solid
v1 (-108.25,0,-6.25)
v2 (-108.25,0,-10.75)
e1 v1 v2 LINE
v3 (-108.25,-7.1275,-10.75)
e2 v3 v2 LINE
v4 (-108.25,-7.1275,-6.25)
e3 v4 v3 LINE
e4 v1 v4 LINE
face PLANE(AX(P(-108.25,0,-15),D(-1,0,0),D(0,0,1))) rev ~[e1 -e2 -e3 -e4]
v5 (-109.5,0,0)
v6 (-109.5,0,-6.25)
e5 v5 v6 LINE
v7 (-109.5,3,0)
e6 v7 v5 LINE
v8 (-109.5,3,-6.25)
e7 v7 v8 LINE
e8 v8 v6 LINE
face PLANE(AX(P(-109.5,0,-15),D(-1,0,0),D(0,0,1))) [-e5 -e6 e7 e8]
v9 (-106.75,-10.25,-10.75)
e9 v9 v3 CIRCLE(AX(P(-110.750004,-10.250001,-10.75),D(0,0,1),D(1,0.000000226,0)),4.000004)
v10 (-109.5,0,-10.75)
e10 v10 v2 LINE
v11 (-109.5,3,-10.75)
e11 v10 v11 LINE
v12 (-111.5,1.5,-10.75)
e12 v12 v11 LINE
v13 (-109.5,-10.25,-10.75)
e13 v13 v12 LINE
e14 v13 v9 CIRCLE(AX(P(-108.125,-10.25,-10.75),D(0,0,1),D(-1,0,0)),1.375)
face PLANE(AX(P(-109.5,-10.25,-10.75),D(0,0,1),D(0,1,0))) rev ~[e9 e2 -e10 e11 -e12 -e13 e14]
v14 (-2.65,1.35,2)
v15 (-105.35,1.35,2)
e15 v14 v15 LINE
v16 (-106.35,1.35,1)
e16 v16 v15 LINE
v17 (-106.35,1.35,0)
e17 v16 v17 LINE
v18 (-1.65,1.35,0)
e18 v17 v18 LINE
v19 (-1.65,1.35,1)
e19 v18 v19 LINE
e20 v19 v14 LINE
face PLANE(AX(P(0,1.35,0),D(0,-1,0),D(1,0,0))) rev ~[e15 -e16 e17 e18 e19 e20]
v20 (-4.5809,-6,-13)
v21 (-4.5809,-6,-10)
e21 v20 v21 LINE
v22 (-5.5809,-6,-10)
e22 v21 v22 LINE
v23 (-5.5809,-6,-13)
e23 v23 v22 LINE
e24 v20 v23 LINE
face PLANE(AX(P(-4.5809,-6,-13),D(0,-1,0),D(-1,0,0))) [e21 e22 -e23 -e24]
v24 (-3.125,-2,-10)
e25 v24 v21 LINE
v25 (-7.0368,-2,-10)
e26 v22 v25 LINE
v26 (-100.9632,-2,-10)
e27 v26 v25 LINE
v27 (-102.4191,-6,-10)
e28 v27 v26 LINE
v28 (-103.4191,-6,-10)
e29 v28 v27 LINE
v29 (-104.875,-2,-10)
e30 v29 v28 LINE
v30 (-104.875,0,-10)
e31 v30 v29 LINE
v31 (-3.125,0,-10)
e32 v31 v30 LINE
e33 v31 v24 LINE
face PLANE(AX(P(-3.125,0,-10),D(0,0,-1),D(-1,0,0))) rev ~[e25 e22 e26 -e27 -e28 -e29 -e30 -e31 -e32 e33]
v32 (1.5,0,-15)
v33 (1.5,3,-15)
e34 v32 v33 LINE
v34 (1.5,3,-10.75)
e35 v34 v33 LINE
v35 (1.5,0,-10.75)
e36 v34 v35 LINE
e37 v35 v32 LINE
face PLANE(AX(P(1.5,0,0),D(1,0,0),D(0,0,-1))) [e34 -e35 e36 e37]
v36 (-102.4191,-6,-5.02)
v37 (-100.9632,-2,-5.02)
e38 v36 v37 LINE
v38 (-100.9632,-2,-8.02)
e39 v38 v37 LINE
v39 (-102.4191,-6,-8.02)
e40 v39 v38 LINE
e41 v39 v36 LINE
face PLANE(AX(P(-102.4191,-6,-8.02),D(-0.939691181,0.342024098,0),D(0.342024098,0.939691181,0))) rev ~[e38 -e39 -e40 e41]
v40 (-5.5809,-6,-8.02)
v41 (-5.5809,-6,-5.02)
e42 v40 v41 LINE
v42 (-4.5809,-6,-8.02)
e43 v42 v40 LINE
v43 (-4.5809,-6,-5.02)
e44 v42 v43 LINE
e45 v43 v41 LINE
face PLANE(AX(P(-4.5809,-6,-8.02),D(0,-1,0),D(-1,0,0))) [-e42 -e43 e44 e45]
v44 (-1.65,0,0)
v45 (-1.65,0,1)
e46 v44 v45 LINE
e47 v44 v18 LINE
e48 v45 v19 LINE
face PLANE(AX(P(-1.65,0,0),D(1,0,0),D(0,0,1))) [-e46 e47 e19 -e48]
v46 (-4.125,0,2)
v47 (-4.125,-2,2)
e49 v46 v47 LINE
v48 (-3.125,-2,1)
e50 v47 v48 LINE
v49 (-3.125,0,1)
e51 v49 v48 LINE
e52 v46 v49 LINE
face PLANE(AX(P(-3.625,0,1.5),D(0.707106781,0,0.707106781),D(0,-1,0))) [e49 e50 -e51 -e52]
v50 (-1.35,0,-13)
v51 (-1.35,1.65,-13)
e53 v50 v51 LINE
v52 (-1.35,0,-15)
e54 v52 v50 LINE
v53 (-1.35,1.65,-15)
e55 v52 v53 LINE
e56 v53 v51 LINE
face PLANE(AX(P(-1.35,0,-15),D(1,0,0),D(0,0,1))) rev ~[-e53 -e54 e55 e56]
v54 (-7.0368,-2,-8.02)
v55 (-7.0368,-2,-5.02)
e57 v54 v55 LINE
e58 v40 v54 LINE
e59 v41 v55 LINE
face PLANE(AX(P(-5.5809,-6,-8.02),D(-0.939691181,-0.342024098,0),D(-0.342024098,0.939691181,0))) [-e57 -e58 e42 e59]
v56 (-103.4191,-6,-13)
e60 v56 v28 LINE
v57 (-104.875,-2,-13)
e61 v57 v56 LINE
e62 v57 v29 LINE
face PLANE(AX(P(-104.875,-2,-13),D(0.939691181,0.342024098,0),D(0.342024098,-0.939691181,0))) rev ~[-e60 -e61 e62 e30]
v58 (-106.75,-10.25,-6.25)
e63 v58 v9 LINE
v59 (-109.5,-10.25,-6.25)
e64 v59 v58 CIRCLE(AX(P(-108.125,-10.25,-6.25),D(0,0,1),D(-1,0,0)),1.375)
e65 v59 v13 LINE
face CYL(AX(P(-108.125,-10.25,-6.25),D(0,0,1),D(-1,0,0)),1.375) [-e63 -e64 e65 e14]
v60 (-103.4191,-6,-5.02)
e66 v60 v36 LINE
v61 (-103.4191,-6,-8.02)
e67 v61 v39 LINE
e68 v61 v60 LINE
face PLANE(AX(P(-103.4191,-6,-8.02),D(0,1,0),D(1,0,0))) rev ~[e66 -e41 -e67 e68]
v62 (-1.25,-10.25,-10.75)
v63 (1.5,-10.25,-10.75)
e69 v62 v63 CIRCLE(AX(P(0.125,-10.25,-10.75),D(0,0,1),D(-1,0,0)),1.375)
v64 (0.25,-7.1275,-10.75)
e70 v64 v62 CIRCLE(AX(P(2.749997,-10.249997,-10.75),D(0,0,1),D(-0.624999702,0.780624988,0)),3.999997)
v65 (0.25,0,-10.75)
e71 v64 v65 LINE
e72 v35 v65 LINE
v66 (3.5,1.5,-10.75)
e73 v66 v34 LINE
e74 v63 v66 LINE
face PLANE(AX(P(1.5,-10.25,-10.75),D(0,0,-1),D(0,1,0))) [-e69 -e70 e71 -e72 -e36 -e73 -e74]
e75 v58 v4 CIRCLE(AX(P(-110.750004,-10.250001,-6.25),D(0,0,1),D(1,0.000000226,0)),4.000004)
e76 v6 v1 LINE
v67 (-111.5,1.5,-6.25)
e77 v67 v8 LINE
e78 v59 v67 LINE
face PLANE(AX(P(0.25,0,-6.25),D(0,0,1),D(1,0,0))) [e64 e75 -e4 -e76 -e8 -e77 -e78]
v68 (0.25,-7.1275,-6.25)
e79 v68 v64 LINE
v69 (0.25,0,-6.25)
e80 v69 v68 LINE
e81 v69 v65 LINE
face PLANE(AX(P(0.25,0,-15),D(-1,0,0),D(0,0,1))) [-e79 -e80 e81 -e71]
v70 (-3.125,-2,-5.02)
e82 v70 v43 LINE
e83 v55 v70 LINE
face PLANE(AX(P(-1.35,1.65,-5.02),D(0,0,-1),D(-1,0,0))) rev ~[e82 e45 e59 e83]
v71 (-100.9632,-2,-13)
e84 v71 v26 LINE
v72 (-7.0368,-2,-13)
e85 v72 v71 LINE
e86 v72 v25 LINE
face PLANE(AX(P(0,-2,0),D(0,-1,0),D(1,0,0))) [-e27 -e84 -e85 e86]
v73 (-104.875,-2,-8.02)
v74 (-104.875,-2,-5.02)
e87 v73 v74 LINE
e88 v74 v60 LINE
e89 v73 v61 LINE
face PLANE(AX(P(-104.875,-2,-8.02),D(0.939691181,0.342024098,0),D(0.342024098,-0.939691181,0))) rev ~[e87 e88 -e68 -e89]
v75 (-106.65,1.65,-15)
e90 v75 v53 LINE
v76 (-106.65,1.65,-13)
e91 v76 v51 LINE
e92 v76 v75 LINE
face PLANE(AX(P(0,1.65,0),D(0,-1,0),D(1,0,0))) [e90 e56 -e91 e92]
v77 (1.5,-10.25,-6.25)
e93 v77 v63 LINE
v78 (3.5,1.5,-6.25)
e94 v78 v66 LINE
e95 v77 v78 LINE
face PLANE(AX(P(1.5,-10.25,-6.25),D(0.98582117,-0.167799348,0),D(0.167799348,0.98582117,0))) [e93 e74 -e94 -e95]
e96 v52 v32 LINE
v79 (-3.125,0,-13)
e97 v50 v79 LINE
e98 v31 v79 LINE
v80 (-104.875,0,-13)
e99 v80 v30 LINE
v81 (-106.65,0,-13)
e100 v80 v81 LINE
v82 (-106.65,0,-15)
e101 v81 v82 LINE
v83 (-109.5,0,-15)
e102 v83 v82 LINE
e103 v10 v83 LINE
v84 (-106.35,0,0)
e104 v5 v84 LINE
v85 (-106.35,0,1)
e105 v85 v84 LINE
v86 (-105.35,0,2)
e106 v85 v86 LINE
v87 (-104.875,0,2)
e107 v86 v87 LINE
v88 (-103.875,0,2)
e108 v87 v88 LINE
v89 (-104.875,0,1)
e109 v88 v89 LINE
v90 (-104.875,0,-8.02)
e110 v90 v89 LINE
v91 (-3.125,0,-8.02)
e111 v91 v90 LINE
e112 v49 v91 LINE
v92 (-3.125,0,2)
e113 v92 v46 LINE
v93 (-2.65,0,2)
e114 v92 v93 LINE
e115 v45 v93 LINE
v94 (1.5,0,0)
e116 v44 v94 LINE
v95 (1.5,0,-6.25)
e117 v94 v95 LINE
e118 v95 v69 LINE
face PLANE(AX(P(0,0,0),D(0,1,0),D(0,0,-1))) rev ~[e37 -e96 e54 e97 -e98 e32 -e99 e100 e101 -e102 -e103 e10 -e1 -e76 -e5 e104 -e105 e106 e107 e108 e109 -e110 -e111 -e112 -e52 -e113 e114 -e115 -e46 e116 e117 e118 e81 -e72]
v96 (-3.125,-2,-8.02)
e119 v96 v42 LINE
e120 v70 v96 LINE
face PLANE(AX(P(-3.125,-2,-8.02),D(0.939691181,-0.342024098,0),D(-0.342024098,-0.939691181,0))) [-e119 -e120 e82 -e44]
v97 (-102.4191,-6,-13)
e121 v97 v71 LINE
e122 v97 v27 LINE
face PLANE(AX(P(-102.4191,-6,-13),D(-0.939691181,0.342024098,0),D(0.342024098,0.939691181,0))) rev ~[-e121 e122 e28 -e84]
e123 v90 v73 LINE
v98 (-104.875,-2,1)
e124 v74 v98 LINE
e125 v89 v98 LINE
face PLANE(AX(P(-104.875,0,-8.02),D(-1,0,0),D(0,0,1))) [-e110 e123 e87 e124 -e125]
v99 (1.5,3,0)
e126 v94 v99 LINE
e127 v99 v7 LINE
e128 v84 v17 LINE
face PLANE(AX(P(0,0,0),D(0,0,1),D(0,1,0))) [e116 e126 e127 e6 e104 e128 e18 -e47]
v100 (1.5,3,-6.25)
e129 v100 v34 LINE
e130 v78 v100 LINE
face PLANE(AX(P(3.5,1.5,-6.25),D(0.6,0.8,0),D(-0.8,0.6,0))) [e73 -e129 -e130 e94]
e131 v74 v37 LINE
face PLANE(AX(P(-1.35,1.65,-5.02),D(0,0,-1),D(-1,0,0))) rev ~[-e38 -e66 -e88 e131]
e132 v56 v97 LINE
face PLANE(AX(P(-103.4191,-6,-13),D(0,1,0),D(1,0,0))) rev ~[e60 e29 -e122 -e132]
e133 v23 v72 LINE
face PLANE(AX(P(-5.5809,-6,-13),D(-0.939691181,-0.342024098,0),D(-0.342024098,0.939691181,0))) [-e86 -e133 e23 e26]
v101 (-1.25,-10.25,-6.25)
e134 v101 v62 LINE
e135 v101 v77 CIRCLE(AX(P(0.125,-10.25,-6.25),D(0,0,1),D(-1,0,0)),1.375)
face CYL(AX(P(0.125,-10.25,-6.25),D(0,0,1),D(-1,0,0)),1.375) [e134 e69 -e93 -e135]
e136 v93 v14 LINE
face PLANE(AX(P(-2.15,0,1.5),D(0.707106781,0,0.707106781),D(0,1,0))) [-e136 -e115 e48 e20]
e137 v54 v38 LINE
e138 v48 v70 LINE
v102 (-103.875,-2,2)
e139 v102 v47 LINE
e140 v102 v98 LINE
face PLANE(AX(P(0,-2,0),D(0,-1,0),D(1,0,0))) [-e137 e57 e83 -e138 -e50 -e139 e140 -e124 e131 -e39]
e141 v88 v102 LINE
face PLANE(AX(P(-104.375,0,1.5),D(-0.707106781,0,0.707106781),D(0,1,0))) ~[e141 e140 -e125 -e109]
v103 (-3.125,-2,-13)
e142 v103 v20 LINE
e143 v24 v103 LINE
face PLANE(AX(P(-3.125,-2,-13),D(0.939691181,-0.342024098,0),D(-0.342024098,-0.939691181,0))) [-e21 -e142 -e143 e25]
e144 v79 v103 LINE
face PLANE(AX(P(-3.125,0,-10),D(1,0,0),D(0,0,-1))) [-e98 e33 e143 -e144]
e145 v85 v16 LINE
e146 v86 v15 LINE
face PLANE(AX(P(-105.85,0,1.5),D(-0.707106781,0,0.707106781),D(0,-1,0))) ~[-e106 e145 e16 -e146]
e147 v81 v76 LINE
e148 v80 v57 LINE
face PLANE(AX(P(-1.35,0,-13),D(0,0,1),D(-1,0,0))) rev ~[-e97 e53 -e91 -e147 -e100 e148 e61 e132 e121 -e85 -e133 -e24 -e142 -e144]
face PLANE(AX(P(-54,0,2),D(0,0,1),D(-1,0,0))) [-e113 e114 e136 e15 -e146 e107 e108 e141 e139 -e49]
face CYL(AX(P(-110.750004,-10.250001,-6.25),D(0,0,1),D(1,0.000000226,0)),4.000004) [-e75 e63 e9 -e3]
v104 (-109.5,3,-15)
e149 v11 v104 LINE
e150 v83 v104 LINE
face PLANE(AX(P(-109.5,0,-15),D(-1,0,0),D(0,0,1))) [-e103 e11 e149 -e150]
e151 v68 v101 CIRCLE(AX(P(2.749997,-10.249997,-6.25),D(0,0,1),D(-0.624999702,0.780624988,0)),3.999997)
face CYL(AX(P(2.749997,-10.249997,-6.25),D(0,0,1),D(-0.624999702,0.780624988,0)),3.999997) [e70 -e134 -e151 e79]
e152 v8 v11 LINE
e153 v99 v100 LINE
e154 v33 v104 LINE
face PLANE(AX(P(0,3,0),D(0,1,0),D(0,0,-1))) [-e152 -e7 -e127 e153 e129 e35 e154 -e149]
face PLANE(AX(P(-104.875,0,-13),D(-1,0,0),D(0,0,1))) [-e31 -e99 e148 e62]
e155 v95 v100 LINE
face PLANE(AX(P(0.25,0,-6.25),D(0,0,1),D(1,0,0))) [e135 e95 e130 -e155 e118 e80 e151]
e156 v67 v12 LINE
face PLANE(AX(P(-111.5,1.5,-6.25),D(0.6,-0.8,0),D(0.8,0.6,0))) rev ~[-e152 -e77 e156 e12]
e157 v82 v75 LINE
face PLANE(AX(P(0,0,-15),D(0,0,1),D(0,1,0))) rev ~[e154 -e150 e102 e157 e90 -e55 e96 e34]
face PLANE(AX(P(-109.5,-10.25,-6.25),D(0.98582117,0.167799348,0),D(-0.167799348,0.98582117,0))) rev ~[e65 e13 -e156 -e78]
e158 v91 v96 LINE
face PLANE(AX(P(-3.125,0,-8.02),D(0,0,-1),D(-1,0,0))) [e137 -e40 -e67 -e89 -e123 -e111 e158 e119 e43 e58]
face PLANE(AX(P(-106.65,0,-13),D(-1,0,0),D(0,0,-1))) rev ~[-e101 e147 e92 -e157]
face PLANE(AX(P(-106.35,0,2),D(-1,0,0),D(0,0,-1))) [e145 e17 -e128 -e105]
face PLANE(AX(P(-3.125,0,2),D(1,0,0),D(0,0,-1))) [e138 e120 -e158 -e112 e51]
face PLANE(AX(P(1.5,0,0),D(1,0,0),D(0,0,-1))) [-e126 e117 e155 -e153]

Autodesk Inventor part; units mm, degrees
ref_plane "YZ Plane" through (0, 0, 0) normal (1, 0, 0) x (0, 1, 0)
ref_plane "XZ Plane" through (0, 0, 0) normal (0, 1, 0) x (-1, 0, 0)
ref_plane "XY Plane" through (0, 0, 0) normal (0, 0, 1) x (1, 0, 0)
sketch "Skizze1" plane through (0, 0, 0) normal (0, 1, 0) x (-1, 0, 0)
  line L0 (0, 0) -> (108, 0)
  line L1 (108, 0) -> (108, -15)
  line L2 (108, -15) -> (0, -15)
  line L3 (0, -15) -> (0, 0)
  dimension "d0" = 108
  dimension "d1" = 15
extrude "Extrusion1" add sketch "Skizze1" along normal blind 3
sketch "Skizze2" plane through (0, 0, 0) normal (0, -1, 0) x (1, 0, 0)
  line L0 (-108, 0) -> (0, 0) projected
  line L1 (-106.35, 0) -> (-1.65, 0)
  line L2 (-1.65, 0) -> (-1.65, 2)
  line L3 (-1.65, 2) -> (-106.35, 2)
  line L4 (-106.35, 2) -> (-106.35, 0)
  line L5 (-108, -15) -> (-108, 0) projected
  line L6 (0, -15) -> (-108, -15) projected
  line L7 (-54, -15) -> (-54, 78)
  point P0 (-54, 0)
  point P1 (-54, 2)
  dimension "d4" = 1.65
  dimension "d5" = 2
extrude "Extrusion2" add sketch "Skizze2" against normal blind 1.35 contours L4 L3 L7 L0 | L7 L3 L2 L0
sketch "Skizze3" plane through (0, 0, 0) normal (0, -1, 0) x (1, 0, 0)
  line L0 (0, -15) -> (-108, -15) projected
  line L1 (-106.65, -15) -> (-1.35, -15)
  line L2 (-1.35, -15) -> (-1.35, -13)
  line L3 (-1.35, -13) -> (-106.65, -13)
  line L4 (-106.65, -13) -> (-106.65, -15)
  line L5 (-54, -15) -> (-54, 54)
  line L6 (-108, -15) -> (-108, 0) projected
  point P0 (0, 0)
  dimension "d8" = 1.35
  dimension "d9" = 2
extrude "Extrusion3" cut sketch "Skizze3" against normal blind 1.65
ref_plane "Arbeitsebene1" through (0, 3, -10) normal (0, 0, -1) x (-1, 0, 0)
sketch "Skizze4" plane through (0, 0, 0) normal (0, -1, 0) x (1, 0, 0)
  line L0 (21.6, -10) -> (-129.6, -10) projected
  line L1 (-104.875, -10) -> (-3.125, -10)
  line L2 (-3.125, -10) -> (-3.125, -13)
  line L3 (-3.125, -13) -> (-104.875, -13)
  line L4 (-104.875, -13) -> (-104.875, -10)
  line L5 (-106.65, -13) -> (-1.35, -13) projected
  line L6 (-1.35, -13) -> (-1.35, -15) projected
  line L7 (0, -15) -> (-108, -15) projected
  line L8 (-54, -15) -> (-54, 34)
  point P0 (0, 0)
  point P1 (-3.125, -10)
  dimension "d36" = 101.75
extrude "Extrusion4" add sketch "Skizze4" along normal blind 2 contours L2 L3 L8 L0 | L8 L3 L4 L0
sketch "Skizze5" plane through (0, 0, 0) normal (0, -1, 0) x (1, 0, 0)
  line L0 (-3.125, -8.02) -> (-104.875, -8.02)
  line L1 (-104.875, -8.02) -> (-104.875, 2)
  line L2 (-104.875, 2) -> (-3.125, 2)
  line L3 (-3.125, 2) -> (-3.125, -8.02)
  line L4 (-3.125, -10) -> (-104.875, -10) projected
  line L5 (-104.875, -10) -> (-104.875, -13) projected
  line L6 (-3.125, -13) -> (-3.125, -10) projected
  line L7 (-1.65, 2) -> (-106.35, 2) projected
  point P0 (0, 0)
  dimension "d16" = 1.98
extrude "Extrusion5" add sketch "Skizze5" along normal up to surface (2 mm away)
sketch "Skizze6" plane through (-108, 0, -15) normal (-1, 0, 0) x (0, 0, 1)
  line L0 (15, 3) -> (0, 3) projected
  line L1 (0, 3) -> (15, 3)
  line L2 (15, 3) -> (15, 0)
  line L3 (15, 0) -> (0, 0)
  line L4 (0, 0) -> (0, 3)
extrude "Extrusion6" add sketch "Skizze6" along normal blind 1.5
sketch "Skizze9" plane through (0, 0, 0) normal (1, 0, 0) x (0, 0, -1)
  line L0 (0, 0) -> (15, 0) projected
  line L1 (15, 0) -> (15, 3) projected
  line L2 (0, 3) -> (15, 3) projected
  line L3 (0, 0) -> (0, 3) projected
extrude "Extrusion9" add sketch "Skizze9" along normal blind 1.5
sketch "Skizze7" plane through (-109.5, 0, -15) normal (-1, 0, 0) x (0, 0, 1)
  line L0 (15, 0) -> (0, 0) projected
  line L1 (4, 0) -> (9, 0) construction
  line L2 (9, 0) -> (9, -10) construction
  line L3 (9, -10) -> (4, -10) construction
  line L4 (4, -10) -> (4, 0) construction
  line L5 (0, 3) -> (0, 0) projected
  line L6 (4.25, 0) -> (8.75, 0)
  line L7 (8.75, 0) -> (8.75, -10.25)
  line L8 (8.75, -10.25) -> (4.25, -10.25)
  line L9 (4.25, -10.25) -> (4.25, 0)
  point P0 (9, 0)
  point P1 (8.75, 0)
  point P2 (4.25, 0)
  dimension "d22" = 4
  dimension "d23" = 5
  dimension "d24" = 10
  dimension "d37" = 0.25
  dimension "d38" = 0.25
  dimension "d39" = 0.25
extrude "Extrusion7" add sketch "Skizze7" against normal blind 1.25
extrude "Extrusion11" add sketch "Skizze7" along normal blind 1.25 from surface at -111
sketch "Skizze8" plane through (-109.5, -10, -6.25) normal (0, 0, 1) x (1, 0, 0)
  line L0 (0, 13) -> (111, 13) projected
  line L1 (55.5, 13) -> (55.5, -32)
  line L2 (0, -0.25) -> (0, 10) projected
  line L3 (0, -0.25) -> (1.25, -0.25) projected
  line L4 (1.25, 10) -> (1.25, -0.25) projected
  line L5 (0, 10) -> (1.25, 10) projected
  line L6 (0, -0.25) -> (0, 10) projected
  line L7 (1.25, 10) -> (1.25, -0.25) projected
  line L8 (111, -0.25) -> (111, 10) projected
  arc A0 (2.75, -0.25) -> (1.25, 2.8725) centre (-1.25, -0.25) ccw
  arc A1 (0, -0.25) -> (2.75, -0.25) centre (1.375, -0.25) ccw
  line L9 (0, -0.25) -> (1.25, -0.25)
  line L10 (1.25, 2.8725) -> (0, 2.8725)
  line L11 (0, -0.25) -> (0, 2.8725)
  line L12 (111, -0.25) -> (109.75, -0.25)
  arc A2 (109.75, 2.8725) -> (108.25, -0.25) centre (112.25, -0.25) ccw
  arc A3 (108.25, -0.25) -> (111, -0.25) centre (109.625, -0.25) ccw
  line L13 (111, -0.25) -> (109.75, -0.25)
  line L14 (109.75, 2.8725) -> (111, 2.8725)
  line L15 (111, -0.25) -> (111, 2.8725)
  point P0 (1.25, -4.25)
  point P1 (0, 2.8725)
  dimension "d76" = 4
  dimension "d77" = 1.5
extrude "Extrusion8" add sketch "Skizze8" against normal up to surface (4.5 mm away) contours L2 L10 L4 L3 | L3 L4 A0 A1 | A3 A2 L14 L8
sketch "Skizze11" plane through (0.25, 0, -6.25) normal (0, 0, 1) x (1, 0, 0)
  line L0 (1.25, 3) -> (-109.75, 3) projected
  line L1 (-54.25, 3) -> (-54.25, -19)
  line L2 (-109.75, 3) -> (1.25, 3)
  arc A0 (-1.5, -10.25) -> (1.25, -10.25) centre (-0.125, -10.25) ccw projected
  line L3 (1.25, -10.25) -> (3.25, 1.5)
  line L4 (3.25, 1.5) -> (1.25, 3)
  line L5 (1.25, 3) -> (1.25, 0) projected
  line L6 (1.25, 1.5) -> (5.25, 1.5) construction
  line L7 (1.25, -10.25) -> (1.25, 3) construction
  line L8 (1.25, -10.25) -> (1.25, 0) construction
  line L9 (-109.75, -10.25) -> (-111.75, 1.5)
  line L10 (-111.75, 1.5) -> (-109.75, 3)
  line L11 (-109.75, 3) -> (-109.75, 0)
  line L12 (-109.75, -10.25) -> (-109.75, 3) construction
  line L13 (-109.75, -10.25) -> (-109.75, 0) construction
  line L14 (1.25, -10.25) -> (1.25, 3)
  line L15 (-109.75, 0) -> (-109.75, 3) projected
  line L16 (-109.75, -10.25) -> (-109.75, 3)
  point P0 (-109.75, 1.5)
  point P1 (-109.75, 0)
  point P2 (1.25, 0)
  dimension "d78" = 2
extrude "Extrusion12" add sketch "Skizze11" against normal up to surface (4.5 mm away)
sketch "Skizze12" plane through (-1.35, 1.65, -13) normal (0, 0, -1) x (-1, 0, 0)
  line L0 (1.775, -1.65) -> (1.775, -3.65) projected
  line L1 (1.775, -3.65) -> (3.2309, -7.65)
  line L2 (3.2309, -7.65) -> (4.2309, -7.65)
  line L3 (4.2309, -7.65) -> (5.6868, -3.65)
  line L4 (103.525, -3.65) -> (1.775, -3.65) projected
  line L5 (-1.6, -15.9) -> (-3.35, -15.9) projected
  line L6 (-2.85, 1.35) -> (108.15, 1.35) projected
  line L7 (52.65, 1.35) -> (52.65, -27)
  line L8 (1.775, -3.65) -> (5.6868, -3.65)
  line L9 (103.525, -3.65) -> (102.0691, -7.65)
  line L10 (102.0691, -7.65) -> (101.0691, -7.65)
  line L11 (101.0691, -7.65) -> (99.6132, -3.65)
  line L12 (103.525, -3.65) -> (99.6132, -3.65)
  point P0 (-1.35, -1.65)
  dimension "d52" = 70
  dimension "d53" = 1
  dimension "d55" = 4
extrude "Extrusion13" add sketch "Skizze12" against normal up to surface (3 mm away)
extrude "Extrusion14" add sketch "Skizze12" against normal blind 3 from surface at -4.98
chamfer "Fasen2" distance 1 angle 45 4 edges at (-106.35, 0.675, 2) (-104.875, -1, 2) (-1.65, 0.675, 2) (-3.125, -1, 2)
ref_plane "Arbeitsebene2" through (1.5, 0, 0) normal (1, 0, 0) x (0, 0, -1)
sketch "Skizze13" plane through (1.5, 0, 0) normal (1, 0, 0) x (0, 0, -1)
  point P0 (0, 0)
sketch "Skizze14" plane through (1.5, 0, 0) normal (1, 0, 0) x (0, 0, -1)
  line L0 (-2, -2) -> (-1, -2) projected
  line L1 (-1, -2) -> (-2, -2) projected
  line L2 (5.02, -2) -> (-1, -2) projected
  line L3 (5.02, -2) -> (8.02, -2) projected
  line L4 (8.02, -2) -> (5.02, -2) projected
  line L5 (-1, -2) -> (5.02, -2) projected
  line L6 (10, -6) -> (10, -2) projected
  line L7 (10, -2) -> (10, -6) projected
  line L8 (10, 0) -> (10, -2) projected
  line L9 (10, 0) -> (10, -2) projected
  line L10 (10, -6) -> (10, -2) projected
  line L11 (10, -2) -> (10, -6) projected
  line L12 (0, 3) -> (6.25, 3) projected
  line L13 (6.25, 3) -> (0, 3) projected
  line L14 (10.75, 3) -> (6.25, 3) projected
  line L15 (15, 3) -> (10.75, 3) projected
  line L16 (10.75, 3) -> (15, 3) projected
  line L17 (6.25, 3) -> (10.75, 3) projected
  line L18 (10, -14.25) -> (1, -14.25)
  line L19 (1, -14.25) -> (1, 3)
  line L20 (1, 3) -> (10, 3)
  line L21 (10, 3) -> (10, -14.25)
  line L22 (10, 3) -> (12, 3)
  line L23 (12, 3) -> (12, -1)
  line L24 (12, -1) -> (10, -1)
  line L25 (10, -1) -> (10, 3)
  line L26 (1, 0.35) -> (-1.65, 3)
  line L27 (-1.65, 3) -> (1, 3)
  line L28 (-1, 1.35) -> (-2, 1.35) projected
  line L29 (-1, 1.35) -> (0, 1.35) projected
  line L30 (0, 1.35) -> (-1, 1.35) projected
  line L31 (-2, 1.35) -> (-1, 1.35) projected
  line L32 (0, 1.35) -> (1, 1.35) construction
  line L33 (6.25, -14.25) -> (10.75, -14.25) projected
  line L34 (6.25, -14.25) -> (10.75, -14.25) projected
  line L35 (6.25, -14.25) -> (10.75, -14.25) projected
  point P0 (0, 0)
  dimension "d64" = 9
  dimension "d65" = 2
  dimension "d66" = 4
  dimension "d67" = 45
  dimension "d69" = 1
equation "\"d0\" = Modul_Grundflächenlänge + 2 * Wandstärke"
equation "\"d1\" = Generische_Modulbreite"
equation "\"d2\" = Deckelstärke"
equation "\"d4\" = 0.55 * Basisstärke"
equation "\"d5\" = Modulüberlappung"
equation "\"d6\" = 0.45 * Deckelstärke"
equation "\"d8\" = 0.45 * Basisstärke"
equation "\"d9\" = Modulüberlappung"
equation "\"d10\" = 0.55 * Deckelstärke"
equation "\"d36\" = Modul_Grundflächenlänge - 0.5 * Stecktoleranz"
equation "\"d14\" = Deckel_Verstärkung"
equation "\"d16\" = 1.1 * Platinendicke"
equation "\"d20\" = Deckel_Klipperstärke"
equation "\"d31\" = Deckel_Klipperstärke"
equation "\"d22\" = Deckel_Klipperposition"
equation "\"d23\" = Deckel_Klippbreite"
equation "\"d24\" = Deckel_Klipplänge"
equation "\"d37\" = 0.5 * Stecktoleranz"
equation "\"d38\" = 0.5 * Stecktoleranz"
equation "\"d39\" = 0.5 * Stecktoleranz"
equation "\"d25\" = Deckel_Klipperstärke - 0.5 * Stecktoleranz"
equation "\"d40\" = Deckel_Klipperstärke - 0.5 * Stecktoleranz"
equation "\"d76\" = Deckelklipper_Radius"
equation "\"d77\" = Deckel_Klipptiefe"
equation "\"d55\" = Deckel_Einrastführungslänge"
equation "\"d64\" = Steckverbinder_Lochtiefe"
equation "\"d65\" = Steckverbinder_Absatzbreite"
equation "\"d66\" = Steckverbinder_Absatztiefe"
equation "\"Wandstärke\" = 3"
equation "\"Basisstärke\" = 3"
equation "\"Modulüberlappung\" = 2"
equation "\"Platinendicke\" = 1.8"
equation "\"Deckelstärke\" = 3"
equation "\"Seitenwand_Höhe\" = 39"
equation "\"Platinenposition\" = 5"
equation "\"d12\" = -Platinenposition"
equation "\"Deckel_Klippbreite\" = 5"
equation "\"Deckel_Klipplänge\" = 10"
equation "\"Deckel_Klipperposition\" = 4"
equation "\"Deckel_Klipperstärke\" = 1.5"
equation "\"Deckel_Klipptiefe\" = 1.5"
equation "\"Modul_Klipptiefe\" = 1.5"
equation "\"Modul_Klipperstärke\" = 1.5"
equation "\"Modul_Klipperposition\" = 7"
equation "\"Modul_Klipplänge\" = 8"
equation "\"Lüftungsraster\" = 2"
equation "\"Dings\" = 2"
equation "\"Modul_Grundflächenlänge\" = 102"
equation "\"Relais_Modulbreite\" = 28"
equation "\"Generische_Modulbreite\" = 15"
equation "\"Steckverbinderabsatztiefe\" = 4"
equation "\"Steckverbinder_Absatztiefe\" = 4"
equation "\"Steckverbinder_Absatzbreite\" = 2"
equation "\"Steckverbinder_Lochtiefe\" = 9"
equation "\"Steckverbinder_Fasenbreite\" = 1"
equation "\"Hauptmodul_Klipperabstand\" = 15"
equation "\"Stecktoleranz\" = 0.5"
equation "\"Rahmen_Durchbiegungsstopp\" = 5"
equation "\"Deckel_Einrastführungslänge\" = 4"
equation "\"Deckel_Verstärkung\" = 2"
equation "\"Deckelklipper_Radius\" = 4"
equation "\"Montage_Langloch\" = 5"
equation "\"Montage_Modulbreite\" = 15"
equation "\"Deckklipper_Kantenverrundung\" = 1"
equation "\"Montage_Bohrung\" = 4.5"
equation "\"Hauptmodul_Stufenposition\" = 53"
equation "\"Hauptmodulbreite\" = 28"
equation "\"Hauptmodul_Platinenhöhe_lang\" = 61"
equation "\"Hauptmodul_Platinenhöhe_kurz\" = 48"
equation "\"Generische_Platinenhöhe\" = 38"
equation "\"Modul_Klipperradius\" = 2"
equation "\"Modul_Klipper_Kantenverrundung\" = 1"
equation "\"Test_Schnittabstand\" = 5"
equation "\"Montage_Schwalbenschwanz_Winkel\" = 30deg"
equation "\"Montage_Schwalbenschwanz_Länge\" = 3"
equation "\"Hauptmodul_Deckel_Einschubtiefe\" = 2"
properties part number "Generischer Gehäuse Deckel"
